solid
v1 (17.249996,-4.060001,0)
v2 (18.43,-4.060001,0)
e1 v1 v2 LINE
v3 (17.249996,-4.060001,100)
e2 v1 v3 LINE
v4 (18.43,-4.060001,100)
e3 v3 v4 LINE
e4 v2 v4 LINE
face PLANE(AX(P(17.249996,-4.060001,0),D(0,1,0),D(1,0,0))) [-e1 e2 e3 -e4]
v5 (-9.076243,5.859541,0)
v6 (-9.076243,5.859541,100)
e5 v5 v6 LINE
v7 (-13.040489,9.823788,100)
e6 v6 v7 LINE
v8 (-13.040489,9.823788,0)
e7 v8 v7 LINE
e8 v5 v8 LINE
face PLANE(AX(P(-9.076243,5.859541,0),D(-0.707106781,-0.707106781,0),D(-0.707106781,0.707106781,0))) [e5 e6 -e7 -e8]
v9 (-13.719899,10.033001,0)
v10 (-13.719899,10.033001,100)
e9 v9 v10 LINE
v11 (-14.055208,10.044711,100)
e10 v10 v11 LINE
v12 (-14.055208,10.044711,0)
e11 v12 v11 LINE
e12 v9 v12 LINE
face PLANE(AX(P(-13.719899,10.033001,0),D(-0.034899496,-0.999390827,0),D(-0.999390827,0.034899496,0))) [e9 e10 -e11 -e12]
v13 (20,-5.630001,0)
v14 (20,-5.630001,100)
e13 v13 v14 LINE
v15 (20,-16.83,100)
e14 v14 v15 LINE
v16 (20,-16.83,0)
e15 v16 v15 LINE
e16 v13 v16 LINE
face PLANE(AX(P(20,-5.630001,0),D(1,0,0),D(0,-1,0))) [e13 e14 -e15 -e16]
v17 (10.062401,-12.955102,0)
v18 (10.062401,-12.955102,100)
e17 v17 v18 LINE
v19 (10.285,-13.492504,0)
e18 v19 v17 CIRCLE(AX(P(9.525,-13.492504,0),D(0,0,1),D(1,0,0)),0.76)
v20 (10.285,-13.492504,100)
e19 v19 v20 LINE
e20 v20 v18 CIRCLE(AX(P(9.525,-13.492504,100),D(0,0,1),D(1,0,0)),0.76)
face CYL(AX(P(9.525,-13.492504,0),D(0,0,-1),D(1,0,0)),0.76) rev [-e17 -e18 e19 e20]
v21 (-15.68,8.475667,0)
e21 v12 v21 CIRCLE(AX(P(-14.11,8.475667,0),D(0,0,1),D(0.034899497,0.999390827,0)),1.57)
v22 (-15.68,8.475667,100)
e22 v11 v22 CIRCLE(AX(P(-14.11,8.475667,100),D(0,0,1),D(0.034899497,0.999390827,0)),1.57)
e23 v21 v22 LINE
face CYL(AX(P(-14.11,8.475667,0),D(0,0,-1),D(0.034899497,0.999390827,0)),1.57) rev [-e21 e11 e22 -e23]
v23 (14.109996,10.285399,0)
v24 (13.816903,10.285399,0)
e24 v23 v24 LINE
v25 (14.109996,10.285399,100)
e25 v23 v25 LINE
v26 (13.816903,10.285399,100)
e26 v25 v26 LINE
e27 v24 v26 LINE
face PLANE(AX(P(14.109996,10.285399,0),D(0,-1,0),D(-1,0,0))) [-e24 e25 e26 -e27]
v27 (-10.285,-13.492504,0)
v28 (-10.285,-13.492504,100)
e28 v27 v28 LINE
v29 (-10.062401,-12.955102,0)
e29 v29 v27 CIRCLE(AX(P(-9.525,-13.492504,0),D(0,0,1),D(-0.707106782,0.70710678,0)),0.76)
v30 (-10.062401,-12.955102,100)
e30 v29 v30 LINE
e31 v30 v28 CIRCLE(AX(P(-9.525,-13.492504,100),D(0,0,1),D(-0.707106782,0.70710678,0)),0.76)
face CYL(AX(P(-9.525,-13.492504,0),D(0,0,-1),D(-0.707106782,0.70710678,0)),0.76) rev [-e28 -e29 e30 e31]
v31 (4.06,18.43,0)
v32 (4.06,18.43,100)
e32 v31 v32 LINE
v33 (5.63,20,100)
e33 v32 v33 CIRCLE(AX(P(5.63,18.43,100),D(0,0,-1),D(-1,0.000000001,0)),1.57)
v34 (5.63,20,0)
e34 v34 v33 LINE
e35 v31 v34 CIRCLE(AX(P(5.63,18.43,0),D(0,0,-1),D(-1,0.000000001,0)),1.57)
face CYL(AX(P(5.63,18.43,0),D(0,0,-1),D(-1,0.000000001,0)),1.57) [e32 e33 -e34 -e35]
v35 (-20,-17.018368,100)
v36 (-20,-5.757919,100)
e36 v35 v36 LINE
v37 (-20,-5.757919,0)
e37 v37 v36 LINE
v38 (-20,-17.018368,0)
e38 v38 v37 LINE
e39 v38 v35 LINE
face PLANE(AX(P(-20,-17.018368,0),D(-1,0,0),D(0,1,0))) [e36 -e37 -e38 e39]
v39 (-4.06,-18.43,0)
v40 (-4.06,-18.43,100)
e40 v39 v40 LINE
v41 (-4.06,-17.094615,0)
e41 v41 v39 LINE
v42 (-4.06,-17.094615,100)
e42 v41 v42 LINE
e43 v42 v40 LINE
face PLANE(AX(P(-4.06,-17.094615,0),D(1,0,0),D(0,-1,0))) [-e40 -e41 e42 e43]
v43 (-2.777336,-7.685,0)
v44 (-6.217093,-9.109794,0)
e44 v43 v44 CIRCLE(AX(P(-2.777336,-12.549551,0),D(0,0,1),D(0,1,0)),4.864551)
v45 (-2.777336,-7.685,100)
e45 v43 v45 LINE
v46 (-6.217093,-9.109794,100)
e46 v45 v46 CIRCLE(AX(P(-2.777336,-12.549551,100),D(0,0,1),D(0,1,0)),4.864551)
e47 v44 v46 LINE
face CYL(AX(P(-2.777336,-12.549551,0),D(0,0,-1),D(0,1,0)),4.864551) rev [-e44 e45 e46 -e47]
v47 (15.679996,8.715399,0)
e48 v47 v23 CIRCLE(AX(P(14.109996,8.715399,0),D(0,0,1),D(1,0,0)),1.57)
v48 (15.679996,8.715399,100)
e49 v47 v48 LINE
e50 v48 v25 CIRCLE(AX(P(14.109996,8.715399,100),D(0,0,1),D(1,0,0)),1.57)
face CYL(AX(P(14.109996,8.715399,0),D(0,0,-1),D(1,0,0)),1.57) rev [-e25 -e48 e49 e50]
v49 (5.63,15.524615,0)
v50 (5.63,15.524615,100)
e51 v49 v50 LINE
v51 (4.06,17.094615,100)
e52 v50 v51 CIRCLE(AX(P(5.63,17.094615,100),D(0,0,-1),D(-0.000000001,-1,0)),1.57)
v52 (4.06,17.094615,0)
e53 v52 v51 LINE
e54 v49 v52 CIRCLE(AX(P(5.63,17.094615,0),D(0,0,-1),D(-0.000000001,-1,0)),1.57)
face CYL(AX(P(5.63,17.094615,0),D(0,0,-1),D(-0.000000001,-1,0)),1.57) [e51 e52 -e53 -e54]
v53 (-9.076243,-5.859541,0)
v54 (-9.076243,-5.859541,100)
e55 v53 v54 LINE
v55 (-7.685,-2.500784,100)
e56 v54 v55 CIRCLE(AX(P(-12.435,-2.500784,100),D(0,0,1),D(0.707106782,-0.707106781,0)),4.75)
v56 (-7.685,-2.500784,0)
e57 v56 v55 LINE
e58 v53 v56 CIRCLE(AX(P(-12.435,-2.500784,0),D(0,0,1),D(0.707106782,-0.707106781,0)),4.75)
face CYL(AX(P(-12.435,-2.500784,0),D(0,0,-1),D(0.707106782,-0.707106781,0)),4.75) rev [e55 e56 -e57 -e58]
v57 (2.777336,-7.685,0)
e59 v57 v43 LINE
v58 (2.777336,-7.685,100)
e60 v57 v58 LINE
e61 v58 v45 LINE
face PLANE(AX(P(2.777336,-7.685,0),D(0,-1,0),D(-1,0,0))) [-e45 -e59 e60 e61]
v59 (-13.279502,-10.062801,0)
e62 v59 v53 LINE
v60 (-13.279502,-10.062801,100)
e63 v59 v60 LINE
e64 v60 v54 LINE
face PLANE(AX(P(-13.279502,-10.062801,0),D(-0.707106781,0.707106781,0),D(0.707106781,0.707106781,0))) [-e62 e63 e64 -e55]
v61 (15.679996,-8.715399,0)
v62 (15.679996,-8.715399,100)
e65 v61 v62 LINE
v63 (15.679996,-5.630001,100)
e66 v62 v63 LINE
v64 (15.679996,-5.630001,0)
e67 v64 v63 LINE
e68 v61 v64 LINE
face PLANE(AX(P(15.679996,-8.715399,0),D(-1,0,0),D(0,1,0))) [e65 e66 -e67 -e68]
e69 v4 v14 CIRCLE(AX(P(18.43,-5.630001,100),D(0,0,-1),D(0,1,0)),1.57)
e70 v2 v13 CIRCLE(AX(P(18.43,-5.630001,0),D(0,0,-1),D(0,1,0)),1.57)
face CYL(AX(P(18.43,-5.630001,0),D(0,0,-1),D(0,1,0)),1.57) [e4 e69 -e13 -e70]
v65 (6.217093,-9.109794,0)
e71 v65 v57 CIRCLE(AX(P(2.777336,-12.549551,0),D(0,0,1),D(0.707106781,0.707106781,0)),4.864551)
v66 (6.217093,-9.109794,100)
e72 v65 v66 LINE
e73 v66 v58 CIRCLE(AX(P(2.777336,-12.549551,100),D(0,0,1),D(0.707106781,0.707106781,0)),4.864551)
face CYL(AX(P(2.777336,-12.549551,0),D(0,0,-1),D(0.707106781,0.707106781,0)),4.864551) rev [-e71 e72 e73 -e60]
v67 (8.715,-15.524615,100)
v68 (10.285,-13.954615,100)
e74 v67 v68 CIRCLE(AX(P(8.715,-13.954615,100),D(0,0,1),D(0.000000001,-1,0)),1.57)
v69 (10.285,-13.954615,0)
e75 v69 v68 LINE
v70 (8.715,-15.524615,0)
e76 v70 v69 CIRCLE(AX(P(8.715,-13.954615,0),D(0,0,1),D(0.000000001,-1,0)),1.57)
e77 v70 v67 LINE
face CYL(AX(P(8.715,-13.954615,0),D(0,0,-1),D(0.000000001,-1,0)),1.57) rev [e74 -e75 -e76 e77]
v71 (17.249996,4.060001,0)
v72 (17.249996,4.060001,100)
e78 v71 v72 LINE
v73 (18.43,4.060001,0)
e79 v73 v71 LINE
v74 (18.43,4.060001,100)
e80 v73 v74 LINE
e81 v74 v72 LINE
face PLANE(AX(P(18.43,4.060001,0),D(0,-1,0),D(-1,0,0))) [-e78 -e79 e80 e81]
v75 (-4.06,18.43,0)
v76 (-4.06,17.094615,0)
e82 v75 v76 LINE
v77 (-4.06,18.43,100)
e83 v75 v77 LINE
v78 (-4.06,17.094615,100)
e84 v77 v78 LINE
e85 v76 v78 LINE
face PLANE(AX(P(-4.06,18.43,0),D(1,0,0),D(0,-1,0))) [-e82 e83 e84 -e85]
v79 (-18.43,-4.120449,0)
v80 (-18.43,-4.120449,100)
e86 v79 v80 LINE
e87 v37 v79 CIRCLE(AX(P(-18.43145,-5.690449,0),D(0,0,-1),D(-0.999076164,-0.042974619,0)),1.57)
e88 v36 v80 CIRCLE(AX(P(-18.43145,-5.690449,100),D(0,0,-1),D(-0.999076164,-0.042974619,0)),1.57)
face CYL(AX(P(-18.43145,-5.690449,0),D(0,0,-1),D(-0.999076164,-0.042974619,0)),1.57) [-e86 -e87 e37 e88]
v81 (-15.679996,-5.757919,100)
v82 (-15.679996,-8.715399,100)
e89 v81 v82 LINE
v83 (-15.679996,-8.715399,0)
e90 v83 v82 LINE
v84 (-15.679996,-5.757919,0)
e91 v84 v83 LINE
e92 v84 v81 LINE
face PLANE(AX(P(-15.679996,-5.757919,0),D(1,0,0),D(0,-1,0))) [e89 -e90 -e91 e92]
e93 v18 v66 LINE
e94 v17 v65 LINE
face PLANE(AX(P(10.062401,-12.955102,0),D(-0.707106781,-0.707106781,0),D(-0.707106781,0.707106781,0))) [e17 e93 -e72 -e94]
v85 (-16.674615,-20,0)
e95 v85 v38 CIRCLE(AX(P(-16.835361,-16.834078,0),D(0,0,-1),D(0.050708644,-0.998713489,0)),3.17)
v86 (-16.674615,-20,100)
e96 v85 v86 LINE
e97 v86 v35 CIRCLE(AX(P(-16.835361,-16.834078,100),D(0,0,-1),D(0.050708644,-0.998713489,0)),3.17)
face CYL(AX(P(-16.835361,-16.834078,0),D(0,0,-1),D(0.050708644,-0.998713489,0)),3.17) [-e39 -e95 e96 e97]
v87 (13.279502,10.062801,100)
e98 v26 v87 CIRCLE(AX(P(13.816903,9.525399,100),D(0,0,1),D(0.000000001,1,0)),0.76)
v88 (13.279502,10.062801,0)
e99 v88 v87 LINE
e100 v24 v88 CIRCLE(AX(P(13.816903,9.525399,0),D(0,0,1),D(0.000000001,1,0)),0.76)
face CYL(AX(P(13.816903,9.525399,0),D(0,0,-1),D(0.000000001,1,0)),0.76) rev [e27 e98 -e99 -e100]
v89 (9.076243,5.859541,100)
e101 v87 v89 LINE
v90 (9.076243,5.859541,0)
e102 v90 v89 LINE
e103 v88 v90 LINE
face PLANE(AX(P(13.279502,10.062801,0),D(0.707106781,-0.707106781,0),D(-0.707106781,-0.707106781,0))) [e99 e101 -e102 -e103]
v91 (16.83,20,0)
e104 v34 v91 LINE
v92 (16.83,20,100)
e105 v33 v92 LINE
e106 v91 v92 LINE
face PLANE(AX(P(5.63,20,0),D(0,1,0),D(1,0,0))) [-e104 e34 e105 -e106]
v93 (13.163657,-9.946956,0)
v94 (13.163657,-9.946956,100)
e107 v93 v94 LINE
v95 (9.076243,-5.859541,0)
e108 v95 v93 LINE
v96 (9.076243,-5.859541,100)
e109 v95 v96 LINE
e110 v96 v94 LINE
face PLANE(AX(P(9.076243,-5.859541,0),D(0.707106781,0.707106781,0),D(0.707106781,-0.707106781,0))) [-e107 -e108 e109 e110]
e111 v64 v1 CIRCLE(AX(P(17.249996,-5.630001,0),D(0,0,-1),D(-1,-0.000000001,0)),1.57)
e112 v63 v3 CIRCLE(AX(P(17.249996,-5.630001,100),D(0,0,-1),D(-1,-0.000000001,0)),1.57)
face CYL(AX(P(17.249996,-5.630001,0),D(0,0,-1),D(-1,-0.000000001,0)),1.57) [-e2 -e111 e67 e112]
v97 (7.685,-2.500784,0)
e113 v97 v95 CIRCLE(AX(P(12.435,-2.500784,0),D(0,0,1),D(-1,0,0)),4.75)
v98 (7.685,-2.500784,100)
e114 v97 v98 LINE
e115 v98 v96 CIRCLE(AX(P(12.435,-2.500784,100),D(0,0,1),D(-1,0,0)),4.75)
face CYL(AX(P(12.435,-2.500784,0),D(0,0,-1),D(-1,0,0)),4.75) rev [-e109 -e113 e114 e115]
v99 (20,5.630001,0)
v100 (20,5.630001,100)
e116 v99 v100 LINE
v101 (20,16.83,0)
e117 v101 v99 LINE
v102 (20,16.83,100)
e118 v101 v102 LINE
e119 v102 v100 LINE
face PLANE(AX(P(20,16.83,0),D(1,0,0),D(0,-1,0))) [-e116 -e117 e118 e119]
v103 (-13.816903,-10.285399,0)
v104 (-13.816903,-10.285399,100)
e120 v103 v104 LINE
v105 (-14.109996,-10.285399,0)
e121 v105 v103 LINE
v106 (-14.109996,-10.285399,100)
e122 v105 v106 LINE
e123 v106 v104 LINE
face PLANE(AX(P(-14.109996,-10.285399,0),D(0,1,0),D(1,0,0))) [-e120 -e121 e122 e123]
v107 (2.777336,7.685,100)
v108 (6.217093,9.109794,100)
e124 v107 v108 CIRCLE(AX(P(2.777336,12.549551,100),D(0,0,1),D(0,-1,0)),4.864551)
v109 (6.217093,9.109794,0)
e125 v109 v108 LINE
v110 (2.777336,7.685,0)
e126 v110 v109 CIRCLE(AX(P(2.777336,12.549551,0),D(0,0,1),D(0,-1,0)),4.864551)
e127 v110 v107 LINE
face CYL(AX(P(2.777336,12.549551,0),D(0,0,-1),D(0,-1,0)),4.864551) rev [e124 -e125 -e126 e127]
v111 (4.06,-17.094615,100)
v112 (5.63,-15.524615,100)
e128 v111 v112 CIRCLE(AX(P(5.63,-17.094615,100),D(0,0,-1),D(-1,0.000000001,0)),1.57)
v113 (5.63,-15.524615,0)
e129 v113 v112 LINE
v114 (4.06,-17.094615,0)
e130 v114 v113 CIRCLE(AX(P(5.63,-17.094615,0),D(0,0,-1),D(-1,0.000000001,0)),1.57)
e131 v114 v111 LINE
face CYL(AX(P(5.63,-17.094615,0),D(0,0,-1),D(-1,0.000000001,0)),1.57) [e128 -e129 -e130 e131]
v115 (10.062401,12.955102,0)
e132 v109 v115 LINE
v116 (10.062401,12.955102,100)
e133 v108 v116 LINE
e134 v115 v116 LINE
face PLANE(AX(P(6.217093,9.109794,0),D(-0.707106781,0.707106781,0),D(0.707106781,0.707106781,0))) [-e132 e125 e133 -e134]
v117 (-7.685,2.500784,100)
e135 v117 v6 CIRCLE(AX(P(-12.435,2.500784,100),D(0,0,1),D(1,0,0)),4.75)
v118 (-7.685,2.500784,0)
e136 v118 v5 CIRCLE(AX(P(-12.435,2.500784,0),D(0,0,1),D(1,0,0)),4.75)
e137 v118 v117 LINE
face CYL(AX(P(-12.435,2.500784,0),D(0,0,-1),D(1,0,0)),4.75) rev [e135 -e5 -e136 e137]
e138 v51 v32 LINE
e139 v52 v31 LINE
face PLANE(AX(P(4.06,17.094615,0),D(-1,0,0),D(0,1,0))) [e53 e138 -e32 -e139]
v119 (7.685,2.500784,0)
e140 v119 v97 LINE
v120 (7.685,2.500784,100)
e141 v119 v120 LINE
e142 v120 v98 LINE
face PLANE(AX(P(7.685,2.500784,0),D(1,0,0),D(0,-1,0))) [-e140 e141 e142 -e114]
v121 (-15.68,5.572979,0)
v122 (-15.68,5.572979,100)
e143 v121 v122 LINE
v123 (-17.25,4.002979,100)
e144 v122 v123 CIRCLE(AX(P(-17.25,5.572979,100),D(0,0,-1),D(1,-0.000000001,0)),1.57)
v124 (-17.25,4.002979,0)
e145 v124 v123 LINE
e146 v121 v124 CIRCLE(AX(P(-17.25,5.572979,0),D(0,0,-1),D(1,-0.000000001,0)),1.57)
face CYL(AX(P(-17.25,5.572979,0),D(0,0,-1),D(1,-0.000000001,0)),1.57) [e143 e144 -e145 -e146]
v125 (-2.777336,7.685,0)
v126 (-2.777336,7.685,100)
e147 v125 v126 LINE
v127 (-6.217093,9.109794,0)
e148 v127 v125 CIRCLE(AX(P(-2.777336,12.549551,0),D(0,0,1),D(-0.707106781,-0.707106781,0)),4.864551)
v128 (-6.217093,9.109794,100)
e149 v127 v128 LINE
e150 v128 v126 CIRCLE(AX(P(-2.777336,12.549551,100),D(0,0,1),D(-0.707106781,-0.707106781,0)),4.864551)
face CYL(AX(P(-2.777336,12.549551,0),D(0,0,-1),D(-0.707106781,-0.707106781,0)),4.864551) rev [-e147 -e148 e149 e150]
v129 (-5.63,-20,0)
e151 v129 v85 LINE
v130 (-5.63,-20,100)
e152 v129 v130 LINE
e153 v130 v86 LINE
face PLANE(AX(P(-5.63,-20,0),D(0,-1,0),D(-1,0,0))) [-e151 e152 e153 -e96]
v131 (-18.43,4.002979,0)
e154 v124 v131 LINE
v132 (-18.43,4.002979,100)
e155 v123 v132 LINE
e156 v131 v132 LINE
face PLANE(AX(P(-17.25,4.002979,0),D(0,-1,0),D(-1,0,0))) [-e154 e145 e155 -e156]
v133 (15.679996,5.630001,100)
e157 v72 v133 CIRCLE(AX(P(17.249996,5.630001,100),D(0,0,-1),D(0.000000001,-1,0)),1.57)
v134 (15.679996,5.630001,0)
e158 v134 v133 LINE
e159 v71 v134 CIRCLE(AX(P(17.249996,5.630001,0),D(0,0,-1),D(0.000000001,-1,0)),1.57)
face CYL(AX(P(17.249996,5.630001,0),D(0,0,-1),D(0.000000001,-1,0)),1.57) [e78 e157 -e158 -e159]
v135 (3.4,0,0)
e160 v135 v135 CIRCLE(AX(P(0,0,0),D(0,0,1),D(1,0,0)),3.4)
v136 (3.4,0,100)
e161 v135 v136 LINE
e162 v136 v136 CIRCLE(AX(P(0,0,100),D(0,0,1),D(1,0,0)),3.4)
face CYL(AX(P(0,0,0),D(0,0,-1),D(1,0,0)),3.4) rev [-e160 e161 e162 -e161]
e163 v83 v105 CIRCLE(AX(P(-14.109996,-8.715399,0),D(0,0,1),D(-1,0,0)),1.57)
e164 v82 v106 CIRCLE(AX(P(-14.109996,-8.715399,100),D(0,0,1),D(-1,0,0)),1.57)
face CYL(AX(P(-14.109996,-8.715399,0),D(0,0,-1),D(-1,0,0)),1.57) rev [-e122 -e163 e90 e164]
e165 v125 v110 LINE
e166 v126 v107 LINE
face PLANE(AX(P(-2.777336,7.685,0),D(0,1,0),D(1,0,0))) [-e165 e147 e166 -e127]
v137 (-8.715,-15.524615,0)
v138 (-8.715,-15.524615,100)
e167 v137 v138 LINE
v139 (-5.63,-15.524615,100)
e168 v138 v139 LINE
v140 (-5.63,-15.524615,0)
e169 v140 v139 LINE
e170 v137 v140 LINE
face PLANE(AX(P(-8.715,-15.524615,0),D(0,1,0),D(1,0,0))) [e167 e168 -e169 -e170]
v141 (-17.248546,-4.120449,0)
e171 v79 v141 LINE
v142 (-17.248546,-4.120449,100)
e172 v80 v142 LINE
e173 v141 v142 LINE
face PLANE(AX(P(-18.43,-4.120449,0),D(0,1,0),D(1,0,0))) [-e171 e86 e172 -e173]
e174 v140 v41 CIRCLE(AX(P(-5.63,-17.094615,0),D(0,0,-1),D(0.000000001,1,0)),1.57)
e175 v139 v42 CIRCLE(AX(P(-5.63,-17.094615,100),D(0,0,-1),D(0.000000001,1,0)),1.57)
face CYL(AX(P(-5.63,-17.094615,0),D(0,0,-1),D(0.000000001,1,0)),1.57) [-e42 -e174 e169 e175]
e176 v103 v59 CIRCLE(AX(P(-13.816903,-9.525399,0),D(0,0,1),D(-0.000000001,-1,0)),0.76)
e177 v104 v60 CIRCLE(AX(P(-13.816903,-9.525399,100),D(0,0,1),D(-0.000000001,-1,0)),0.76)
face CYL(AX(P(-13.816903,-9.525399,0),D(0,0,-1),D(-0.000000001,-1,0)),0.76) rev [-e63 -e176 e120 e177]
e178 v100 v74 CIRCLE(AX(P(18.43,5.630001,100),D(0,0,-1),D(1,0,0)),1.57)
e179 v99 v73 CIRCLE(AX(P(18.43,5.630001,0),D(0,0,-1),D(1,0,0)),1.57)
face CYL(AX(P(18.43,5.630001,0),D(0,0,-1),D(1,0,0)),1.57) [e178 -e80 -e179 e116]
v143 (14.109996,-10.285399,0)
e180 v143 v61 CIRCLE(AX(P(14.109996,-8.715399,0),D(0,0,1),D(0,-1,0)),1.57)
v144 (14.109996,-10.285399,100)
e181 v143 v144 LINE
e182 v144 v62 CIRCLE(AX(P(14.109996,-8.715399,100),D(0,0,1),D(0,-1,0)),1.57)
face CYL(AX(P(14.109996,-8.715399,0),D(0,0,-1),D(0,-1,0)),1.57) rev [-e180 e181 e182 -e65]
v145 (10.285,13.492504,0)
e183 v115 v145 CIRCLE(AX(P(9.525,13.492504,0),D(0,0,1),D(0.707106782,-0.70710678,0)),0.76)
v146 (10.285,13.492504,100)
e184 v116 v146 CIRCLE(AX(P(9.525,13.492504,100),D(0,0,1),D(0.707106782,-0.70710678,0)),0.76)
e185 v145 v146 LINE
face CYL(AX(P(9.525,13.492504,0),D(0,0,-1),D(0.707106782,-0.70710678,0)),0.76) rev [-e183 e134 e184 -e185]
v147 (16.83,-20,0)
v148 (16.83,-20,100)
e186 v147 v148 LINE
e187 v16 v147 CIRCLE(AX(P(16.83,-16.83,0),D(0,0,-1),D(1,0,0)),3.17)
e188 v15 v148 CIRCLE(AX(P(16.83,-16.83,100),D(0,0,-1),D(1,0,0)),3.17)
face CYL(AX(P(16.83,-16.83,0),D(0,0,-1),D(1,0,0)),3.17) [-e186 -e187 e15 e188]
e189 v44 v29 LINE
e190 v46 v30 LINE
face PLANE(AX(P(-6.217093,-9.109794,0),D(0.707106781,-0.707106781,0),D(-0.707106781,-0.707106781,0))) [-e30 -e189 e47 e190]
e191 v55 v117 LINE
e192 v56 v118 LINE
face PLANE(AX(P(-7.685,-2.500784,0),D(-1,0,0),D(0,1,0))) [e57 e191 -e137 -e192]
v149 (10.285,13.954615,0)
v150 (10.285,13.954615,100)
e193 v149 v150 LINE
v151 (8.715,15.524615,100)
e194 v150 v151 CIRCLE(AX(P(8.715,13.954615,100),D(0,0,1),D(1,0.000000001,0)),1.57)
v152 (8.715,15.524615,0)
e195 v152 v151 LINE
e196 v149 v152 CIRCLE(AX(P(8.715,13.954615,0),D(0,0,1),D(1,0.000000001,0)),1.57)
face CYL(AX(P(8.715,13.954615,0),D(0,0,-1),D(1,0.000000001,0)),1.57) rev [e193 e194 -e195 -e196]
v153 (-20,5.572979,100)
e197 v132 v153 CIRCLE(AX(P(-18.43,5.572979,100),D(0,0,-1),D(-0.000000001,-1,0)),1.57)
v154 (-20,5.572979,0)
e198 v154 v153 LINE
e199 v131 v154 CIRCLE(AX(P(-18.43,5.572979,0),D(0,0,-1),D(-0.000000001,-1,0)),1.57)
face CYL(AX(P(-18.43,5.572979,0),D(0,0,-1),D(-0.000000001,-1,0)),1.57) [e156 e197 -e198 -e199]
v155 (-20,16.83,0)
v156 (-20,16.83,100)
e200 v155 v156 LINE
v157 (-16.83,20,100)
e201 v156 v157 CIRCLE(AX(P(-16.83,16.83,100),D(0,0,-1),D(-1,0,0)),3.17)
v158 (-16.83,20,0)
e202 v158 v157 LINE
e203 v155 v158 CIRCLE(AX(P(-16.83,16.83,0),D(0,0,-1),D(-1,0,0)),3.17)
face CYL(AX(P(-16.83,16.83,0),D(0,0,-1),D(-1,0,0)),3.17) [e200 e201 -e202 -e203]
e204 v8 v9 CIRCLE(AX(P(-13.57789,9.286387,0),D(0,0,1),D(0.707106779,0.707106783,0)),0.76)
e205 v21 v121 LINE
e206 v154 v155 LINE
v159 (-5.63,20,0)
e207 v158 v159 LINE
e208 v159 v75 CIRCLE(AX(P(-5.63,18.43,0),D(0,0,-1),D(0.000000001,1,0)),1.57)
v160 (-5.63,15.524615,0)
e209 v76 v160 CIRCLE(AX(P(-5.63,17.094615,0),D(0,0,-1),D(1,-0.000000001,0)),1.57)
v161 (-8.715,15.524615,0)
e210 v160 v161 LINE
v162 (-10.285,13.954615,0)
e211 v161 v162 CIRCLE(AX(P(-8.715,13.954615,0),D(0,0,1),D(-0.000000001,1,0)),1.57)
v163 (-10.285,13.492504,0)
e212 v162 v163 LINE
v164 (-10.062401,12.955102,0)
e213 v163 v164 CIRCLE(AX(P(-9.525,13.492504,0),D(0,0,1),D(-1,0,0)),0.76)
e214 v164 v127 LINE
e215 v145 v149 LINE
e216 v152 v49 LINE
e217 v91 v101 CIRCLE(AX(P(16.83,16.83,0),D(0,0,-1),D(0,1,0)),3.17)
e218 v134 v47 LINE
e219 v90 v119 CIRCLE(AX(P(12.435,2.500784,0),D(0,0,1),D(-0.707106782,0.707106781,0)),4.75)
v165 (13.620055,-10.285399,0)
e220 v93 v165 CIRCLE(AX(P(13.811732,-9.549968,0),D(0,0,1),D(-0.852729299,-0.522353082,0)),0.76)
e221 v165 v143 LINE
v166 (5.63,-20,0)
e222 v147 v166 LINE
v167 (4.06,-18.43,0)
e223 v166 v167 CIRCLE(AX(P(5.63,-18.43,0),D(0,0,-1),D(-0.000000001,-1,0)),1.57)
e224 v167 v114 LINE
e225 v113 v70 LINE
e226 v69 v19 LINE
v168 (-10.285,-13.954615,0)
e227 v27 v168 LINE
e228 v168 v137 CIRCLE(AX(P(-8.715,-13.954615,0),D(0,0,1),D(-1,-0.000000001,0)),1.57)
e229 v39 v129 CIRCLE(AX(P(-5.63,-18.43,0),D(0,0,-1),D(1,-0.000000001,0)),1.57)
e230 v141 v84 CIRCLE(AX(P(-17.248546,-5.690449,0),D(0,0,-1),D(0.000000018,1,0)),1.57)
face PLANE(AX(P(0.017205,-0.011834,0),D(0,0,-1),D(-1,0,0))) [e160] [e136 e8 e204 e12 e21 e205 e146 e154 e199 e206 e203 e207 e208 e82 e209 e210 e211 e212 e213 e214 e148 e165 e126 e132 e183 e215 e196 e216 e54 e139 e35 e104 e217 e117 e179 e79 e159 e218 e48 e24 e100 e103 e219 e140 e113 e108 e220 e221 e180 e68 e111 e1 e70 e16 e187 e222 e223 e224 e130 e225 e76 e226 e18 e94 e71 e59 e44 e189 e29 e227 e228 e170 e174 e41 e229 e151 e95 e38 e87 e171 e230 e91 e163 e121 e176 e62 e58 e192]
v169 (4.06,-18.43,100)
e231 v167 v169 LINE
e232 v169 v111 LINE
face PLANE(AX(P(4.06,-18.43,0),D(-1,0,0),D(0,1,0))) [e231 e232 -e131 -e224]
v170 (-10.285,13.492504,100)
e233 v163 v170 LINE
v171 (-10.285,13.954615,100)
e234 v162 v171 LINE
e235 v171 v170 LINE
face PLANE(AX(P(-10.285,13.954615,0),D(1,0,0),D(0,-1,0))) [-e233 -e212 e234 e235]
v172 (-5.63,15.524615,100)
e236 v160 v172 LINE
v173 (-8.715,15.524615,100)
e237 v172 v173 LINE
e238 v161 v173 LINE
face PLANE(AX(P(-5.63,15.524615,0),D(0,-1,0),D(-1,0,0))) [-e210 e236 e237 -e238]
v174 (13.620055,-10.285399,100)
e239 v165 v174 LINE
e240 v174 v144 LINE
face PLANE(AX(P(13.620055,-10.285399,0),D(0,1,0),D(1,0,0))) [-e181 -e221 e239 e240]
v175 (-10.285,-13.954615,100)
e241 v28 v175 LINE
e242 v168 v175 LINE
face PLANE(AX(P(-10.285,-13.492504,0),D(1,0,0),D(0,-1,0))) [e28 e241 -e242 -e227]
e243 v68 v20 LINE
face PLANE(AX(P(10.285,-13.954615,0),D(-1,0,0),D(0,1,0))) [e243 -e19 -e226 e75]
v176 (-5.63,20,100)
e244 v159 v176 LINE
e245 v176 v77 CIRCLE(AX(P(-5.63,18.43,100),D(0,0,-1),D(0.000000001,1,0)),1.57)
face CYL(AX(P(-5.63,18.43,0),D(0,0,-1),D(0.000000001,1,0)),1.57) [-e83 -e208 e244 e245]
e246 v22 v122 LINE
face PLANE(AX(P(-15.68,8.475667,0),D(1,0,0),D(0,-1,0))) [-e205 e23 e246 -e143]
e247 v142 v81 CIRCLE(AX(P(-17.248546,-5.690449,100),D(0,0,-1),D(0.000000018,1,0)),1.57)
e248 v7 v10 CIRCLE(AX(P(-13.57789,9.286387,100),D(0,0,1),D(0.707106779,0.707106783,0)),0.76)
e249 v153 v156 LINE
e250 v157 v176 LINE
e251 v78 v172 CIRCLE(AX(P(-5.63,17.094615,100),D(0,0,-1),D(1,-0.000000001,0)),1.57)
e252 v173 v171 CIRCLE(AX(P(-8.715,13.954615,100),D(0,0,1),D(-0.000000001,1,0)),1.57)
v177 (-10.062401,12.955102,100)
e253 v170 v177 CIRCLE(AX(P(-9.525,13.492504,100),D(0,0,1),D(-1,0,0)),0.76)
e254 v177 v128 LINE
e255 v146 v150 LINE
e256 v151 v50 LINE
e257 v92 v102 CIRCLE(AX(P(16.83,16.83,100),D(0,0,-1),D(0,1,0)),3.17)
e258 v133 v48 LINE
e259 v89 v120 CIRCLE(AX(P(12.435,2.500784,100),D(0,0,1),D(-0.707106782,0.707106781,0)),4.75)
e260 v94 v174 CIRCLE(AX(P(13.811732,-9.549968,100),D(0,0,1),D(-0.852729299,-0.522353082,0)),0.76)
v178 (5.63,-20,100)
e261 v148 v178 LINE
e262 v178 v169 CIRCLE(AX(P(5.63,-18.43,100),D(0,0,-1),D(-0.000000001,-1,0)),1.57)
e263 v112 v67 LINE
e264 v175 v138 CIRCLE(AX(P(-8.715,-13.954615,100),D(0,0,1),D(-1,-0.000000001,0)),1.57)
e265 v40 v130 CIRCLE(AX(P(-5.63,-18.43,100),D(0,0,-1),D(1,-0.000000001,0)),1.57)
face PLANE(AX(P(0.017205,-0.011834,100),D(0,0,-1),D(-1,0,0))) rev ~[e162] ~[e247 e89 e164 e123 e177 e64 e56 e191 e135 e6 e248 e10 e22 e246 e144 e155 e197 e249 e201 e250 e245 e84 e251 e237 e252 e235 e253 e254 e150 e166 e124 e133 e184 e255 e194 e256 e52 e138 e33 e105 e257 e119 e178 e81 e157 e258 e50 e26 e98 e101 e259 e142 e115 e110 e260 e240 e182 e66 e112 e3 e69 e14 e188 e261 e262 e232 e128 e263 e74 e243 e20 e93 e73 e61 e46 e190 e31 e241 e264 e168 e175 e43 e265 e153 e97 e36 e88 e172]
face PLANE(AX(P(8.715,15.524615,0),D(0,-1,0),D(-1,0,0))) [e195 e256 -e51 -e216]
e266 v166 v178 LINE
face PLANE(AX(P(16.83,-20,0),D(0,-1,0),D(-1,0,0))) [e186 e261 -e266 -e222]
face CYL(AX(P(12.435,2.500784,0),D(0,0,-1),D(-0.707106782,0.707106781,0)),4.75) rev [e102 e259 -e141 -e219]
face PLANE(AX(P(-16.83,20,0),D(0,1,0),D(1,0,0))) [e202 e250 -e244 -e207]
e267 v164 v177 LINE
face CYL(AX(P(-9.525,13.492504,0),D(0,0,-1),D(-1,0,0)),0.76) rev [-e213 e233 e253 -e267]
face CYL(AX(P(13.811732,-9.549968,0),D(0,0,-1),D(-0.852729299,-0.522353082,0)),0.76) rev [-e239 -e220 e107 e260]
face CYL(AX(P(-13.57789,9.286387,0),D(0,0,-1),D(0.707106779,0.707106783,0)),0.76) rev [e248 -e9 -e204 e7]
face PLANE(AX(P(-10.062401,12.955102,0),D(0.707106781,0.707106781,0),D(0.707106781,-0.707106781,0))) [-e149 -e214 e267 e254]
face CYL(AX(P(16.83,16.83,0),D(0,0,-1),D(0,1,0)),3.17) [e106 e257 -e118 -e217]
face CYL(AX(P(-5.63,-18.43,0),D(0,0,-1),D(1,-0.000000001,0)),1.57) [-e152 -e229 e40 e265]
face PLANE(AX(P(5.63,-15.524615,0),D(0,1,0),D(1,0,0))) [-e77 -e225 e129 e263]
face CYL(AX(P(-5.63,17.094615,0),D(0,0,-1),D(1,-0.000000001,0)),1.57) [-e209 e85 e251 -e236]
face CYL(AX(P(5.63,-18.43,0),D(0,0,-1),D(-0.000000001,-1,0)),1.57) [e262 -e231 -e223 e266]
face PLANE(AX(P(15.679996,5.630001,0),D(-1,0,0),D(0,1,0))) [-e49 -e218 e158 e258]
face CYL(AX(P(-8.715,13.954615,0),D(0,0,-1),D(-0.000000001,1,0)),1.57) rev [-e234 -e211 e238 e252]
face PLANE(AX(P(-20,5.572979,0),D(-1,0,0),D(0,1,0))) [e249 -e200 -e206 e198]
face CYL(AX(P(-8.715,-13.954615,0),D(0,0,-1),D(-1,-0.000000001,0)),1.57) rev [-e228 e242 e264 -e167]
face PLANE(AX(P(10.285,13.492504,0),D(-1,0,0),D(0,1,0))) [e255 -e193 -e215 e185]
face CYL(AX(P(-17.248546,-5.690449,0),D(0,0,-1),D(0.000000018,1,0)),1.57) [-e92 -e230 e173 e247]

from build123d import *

# Parameters (mm, degrees)
SKETCH1_R           = 3.4
BOSS_EXTRUDE1_DEPTH = 100


with BuildPart() as part:
    # Sketch1 → Boss-Extrude1 (new body)
    with BuildSketch(Plane.XY):
        with BuildLine():
            Line((-8.715, -15.524615034), (-5.63, -15.524615034))
            ThreePointArc((-5.63, -15.524615034), (-4.519842354, -15.984457388), (-4.06, -17.094615034))
            Line((-4.06, -17.094615034), (-4.06, -18.43))
            ThreePointArc((-4.06, -18.43), (-4.519842354, -19.540157646), (-5.63, -20))
            Line((-5.63, -20), (-16.674615034, -20))
            ThreePointArc((-16.674615034, -20), (-18.951578385, -19.194274381), (-20, -17.018368134))
            Line((-20, -17.018368134), (-20, -5.757918808))
            ThreePointArc((-20, -5.757918808), (-19.564709668, -4.603883664), (-18.43, -4.120449326))
            Line((-18.43, -4.120449326), (-17.248545805, -4.120449326))
            ThreePointArc((-17.248545805, -4.120449326), (-16.114784845, -4.604407881), (-15.67999625, -5.757919334))
            Line((-15.67999625, -5.757919334), (-15.67999625, -8.715399492))
            ThreePointArc((-15.67999625, -8.715399492), (-15.220153896, -9.825557139), (-14.10999625, -10.285399492))
            Line((-14.10999625, -10.285399492), (-13.816903094, -10.285399492))
            ThreePointArc((-13.816903094, -10.285399492), (-13.526063686, -10.227547937), (-13.279501941, -10.062800646))
            Line((-13.279501941, -10.062800646), (-9.076242789, -5.859541495))
            ThreePointArc((-9.076242789, -5.859541495), (-8.046572221, -4.318530588), (-7.685, -2.500784284))
            Line((-7.685, -2.500784284), (-7.685, 2.500784284))
            ThreePointArc((-7.685, 2.500784284), (-8.046572221, 4.318530588), (-9.076242789, 5.859541495))
            Line((-9.076242789, 5.859541495), (-13.040489136, 9.823787841))
            ThreePointArc((-13.040489136, 9.823787841), (-13.354224618, 10.012729352), (-13.71989919, 10.033001362))
            Line((-13.71989919, 10.033001362), (-14.05520779, 10.044710596))
            ThreePointArc((-14.05520779, 10.044710596), (-15.200613642, 9.605030484), (-15.68, 8.475666998))
            Line((-15.68, 8.475666998), (-15.68, 5.572979049))
            ThreePointArc((-15.68, 5.572979049), (-16.139842354, 4.462821403), (-17.25, 4.002979049))
            Line((-17.25, 4.002979049), (-18.43, 4.002979049))
            ThreePointArc((-18.43, 4.002979049), (-19.540157646, 4.462821403), (-20, 5.572979049))
            Line((-20, 5.572979049), (-20, 13.004526564))
            Line((-20, 13.004526564), (-20, 16.83))
            ThreePointArc((-20, 16.83), (-19.071528496, 19.071528496), (-16.83, 20))
            Line((-16.83, 20), (-5.63, 20))
            ThreePointArc((-5.63, 20), (-4.519842354, 19.540157646), (-4.06, 18.43))
            Line((-4.06, 18.43), (-4.06, 17.094615034))
            ThreePointArc((-4.06, 17.094615034), (-4.519842354, 15.984457388), (-5.63, 15.524615034))
            Line((-5.63, 15.524615034), (-8.715, 15.524615034))
            ThreePointArc((-8.715, 15.524615034), (-9.825157646, 15.06477268), (-10.285, 13.954615034))
            Line((-10.285, 13.954615034), (-10.285, 13.492503602))
            ThreePointArc((-10.285, 13.492503602), (-10.227148445, 13.201664194), (-10.062401154, 12.955102448))
            Line((-10.062401154, 12.955102448), (-6.217092793, 9.109794088))
            ThreePointArc((-6.217092793, 9.109794088), (-4.63891877, 8.055291919), (-2.777335583, 7.685))
            Line((-2.777335583, 7.685), (2.777335583, 7.685))
            ThreePointArc((2.777335583, 7.685), (4.63891877, 8.055291919), (6.217092793, 9.109794088))
            Line((6.217092793, 9.109794088), (10.062401154, 12.955102448))
            ThreePointArc((10.062401154, 12.955102448), (10.227148445, 13.201664194), (10.285, 13.492503602))
            Line((10.285, 13.492503602), (10.285, 13.954615034))
            ThreePointArc((10.285, 13.954615034), (9.825157646, 15.06477268), (8.715, 15.524615034))
            Line((8.715, 15.524615034), (5.63, 15.524615034))
            ThreePointArc((5.63, 15.524615034), (4.519842354, 15.984457388), (4.06, 17.094615034))
            Line((4.06, 17.094615034), (4.06, 18.43))
            ThreePointArc((4.06, 18.43), (4.519842354, 19.540157646), (5.63, 20))
            Line((5.63, 20), (12.979635074, 20))
            Line((12.979635074, 20), (16.83, 20))
            ThreePointArc((16.83, 20), (19.071528496, 19.071528496), (20, 16.83))
            Line((20, 16.83), (20, 13.001098436))
            Line((20, 13.001098436), (20, 5.630000526))
            ThreePointArc((20, 5.630000526), (19.540157646, 4.519842879), (18.43, 4.060000526))
            Line((18.43, 4.060000526), (17.24999625, 4.060000526))
            ThreePointArc((17.24999625, 4.060000526), (16.139838603, 4.519842879), (15.67999625, 5.630000526))
            Line((15.67999625, 5.630000526), (15.67999625, 8.715399492))
            ThreePointArc((15.67999625, 8.715399492), (15.220153896, 9.825557139), (14.10999625, 10.285399492))
            Line((14.10999625, 10.285399492), (13.816903094, 10.285399492))
            ThreePointArc((13.816903094, 10.285399492), (13.526063686, 10.227547937), (13.279501941, 10.062800646))
            Line((13.279501941, 10.062800646), (9.076242789, 5.859541495))
            ThreePointArc((9.076242789, 5.859541495), (8.046572221, 4.318530588), (7.685, 2.500784284))
            Line((7.685, 2.500784284), (7.685, -2.500784284))
            ThreePointArc((7.685, -2.500784284), (8.046572221, -4.318530588), (9.076242789, -5.859541495))
            Line((9.076242789, -5.859541495), (13.163657296, -9.946956002))
            ThreePointArc((13.163657296, -9.946956002), (13.35903797, -10.160433474), (13.6200547, -10.285399492))
            Line((13.6200547, -10.285399492), (14.10999625, -10.285399492))
            ThreePointArc((14.10999625, -10.285399492), (15.220153896, -9.825557139), (15.67999625, -8.715399492))
            Line((15.67999625, -8.715399492), (15.67999625, -5.630000526))
            ThreePointArc((15.67999625, -5.630000526), (16.139838603, -4.519842879), (17.24999625, -4.060000526))
            Line((17.24999625, -4.060000526), (18.43, -4.060000526))
            ThreePointArc((18.43, -4.060000526), (19.540157646, -4.519842879), (20, -5.630000526))
            Line((20, -5.630000526), (20, -16.83))
            ThreePointArc((20, -16.83), (19.071528496, -19.071528496), (16.83, -20))
            Line((16.83, -20), (13, -20))
            Line((13, -20), (5.63, -20))
            ThreePointArc((5.63, -20), (4.519842354, -19.540157646), (4.06, -18.43))
            Line((4.06, -18.43), (4.06, -17.094615034))
            ThreePointArc((4.06, -17.094615034), (4.519842354, -15.984457388), (5.63, -15.524615034))
            Line((5.63, -15.524615034), (8.715, -15.524615034))
            ThreePointArc((8.715, -15.524615034), (9.825157646, -15.06477268), (10.285, -13.954615034))
            Line((10.285, -13.954615034), (10.285, -13.492503602))
            ThreePointArc((10.285, -13.492503602), (10.227148445, -13.201664194), (10.062401154, -12.955102448))
            Line((10.062401154, -12.955102448), (6.217092793, -9.109794088))
            ThreePointArc((6.217092793, -9.109794088), (4.63891877, -8.055291919), (2.777335583, -7.685))
            Line((2.777335583, -7.685), (-2.777335583, -7.685))
            ThreePointArc((-2.777335583, -7.685), (-4.63891877, -8.055291919), (-6.217092793, -9.109794088))
            Line((-6.217092793, -9.109794088), (-10.062401154, -12.955102448))
            ThreePointArc((-10.062401154, -12.955102448), (-10.227148445, -13.201664194), (-10.285, -13.492503602))
            Line((-10.285, -13.492503602), (-10.285, -13.954615034))
            ThreePointArc((-10.285, -13.954615034), (-9.825157646, -15.06477268), (-8.715, -15.524615034))
        make_face()
        Circle(SKETCH1_R, mode=Mode.SUBTRACT)
    extrude(amount=BOSS_EXTRUDE1_DEPTH)


solid = part.part
